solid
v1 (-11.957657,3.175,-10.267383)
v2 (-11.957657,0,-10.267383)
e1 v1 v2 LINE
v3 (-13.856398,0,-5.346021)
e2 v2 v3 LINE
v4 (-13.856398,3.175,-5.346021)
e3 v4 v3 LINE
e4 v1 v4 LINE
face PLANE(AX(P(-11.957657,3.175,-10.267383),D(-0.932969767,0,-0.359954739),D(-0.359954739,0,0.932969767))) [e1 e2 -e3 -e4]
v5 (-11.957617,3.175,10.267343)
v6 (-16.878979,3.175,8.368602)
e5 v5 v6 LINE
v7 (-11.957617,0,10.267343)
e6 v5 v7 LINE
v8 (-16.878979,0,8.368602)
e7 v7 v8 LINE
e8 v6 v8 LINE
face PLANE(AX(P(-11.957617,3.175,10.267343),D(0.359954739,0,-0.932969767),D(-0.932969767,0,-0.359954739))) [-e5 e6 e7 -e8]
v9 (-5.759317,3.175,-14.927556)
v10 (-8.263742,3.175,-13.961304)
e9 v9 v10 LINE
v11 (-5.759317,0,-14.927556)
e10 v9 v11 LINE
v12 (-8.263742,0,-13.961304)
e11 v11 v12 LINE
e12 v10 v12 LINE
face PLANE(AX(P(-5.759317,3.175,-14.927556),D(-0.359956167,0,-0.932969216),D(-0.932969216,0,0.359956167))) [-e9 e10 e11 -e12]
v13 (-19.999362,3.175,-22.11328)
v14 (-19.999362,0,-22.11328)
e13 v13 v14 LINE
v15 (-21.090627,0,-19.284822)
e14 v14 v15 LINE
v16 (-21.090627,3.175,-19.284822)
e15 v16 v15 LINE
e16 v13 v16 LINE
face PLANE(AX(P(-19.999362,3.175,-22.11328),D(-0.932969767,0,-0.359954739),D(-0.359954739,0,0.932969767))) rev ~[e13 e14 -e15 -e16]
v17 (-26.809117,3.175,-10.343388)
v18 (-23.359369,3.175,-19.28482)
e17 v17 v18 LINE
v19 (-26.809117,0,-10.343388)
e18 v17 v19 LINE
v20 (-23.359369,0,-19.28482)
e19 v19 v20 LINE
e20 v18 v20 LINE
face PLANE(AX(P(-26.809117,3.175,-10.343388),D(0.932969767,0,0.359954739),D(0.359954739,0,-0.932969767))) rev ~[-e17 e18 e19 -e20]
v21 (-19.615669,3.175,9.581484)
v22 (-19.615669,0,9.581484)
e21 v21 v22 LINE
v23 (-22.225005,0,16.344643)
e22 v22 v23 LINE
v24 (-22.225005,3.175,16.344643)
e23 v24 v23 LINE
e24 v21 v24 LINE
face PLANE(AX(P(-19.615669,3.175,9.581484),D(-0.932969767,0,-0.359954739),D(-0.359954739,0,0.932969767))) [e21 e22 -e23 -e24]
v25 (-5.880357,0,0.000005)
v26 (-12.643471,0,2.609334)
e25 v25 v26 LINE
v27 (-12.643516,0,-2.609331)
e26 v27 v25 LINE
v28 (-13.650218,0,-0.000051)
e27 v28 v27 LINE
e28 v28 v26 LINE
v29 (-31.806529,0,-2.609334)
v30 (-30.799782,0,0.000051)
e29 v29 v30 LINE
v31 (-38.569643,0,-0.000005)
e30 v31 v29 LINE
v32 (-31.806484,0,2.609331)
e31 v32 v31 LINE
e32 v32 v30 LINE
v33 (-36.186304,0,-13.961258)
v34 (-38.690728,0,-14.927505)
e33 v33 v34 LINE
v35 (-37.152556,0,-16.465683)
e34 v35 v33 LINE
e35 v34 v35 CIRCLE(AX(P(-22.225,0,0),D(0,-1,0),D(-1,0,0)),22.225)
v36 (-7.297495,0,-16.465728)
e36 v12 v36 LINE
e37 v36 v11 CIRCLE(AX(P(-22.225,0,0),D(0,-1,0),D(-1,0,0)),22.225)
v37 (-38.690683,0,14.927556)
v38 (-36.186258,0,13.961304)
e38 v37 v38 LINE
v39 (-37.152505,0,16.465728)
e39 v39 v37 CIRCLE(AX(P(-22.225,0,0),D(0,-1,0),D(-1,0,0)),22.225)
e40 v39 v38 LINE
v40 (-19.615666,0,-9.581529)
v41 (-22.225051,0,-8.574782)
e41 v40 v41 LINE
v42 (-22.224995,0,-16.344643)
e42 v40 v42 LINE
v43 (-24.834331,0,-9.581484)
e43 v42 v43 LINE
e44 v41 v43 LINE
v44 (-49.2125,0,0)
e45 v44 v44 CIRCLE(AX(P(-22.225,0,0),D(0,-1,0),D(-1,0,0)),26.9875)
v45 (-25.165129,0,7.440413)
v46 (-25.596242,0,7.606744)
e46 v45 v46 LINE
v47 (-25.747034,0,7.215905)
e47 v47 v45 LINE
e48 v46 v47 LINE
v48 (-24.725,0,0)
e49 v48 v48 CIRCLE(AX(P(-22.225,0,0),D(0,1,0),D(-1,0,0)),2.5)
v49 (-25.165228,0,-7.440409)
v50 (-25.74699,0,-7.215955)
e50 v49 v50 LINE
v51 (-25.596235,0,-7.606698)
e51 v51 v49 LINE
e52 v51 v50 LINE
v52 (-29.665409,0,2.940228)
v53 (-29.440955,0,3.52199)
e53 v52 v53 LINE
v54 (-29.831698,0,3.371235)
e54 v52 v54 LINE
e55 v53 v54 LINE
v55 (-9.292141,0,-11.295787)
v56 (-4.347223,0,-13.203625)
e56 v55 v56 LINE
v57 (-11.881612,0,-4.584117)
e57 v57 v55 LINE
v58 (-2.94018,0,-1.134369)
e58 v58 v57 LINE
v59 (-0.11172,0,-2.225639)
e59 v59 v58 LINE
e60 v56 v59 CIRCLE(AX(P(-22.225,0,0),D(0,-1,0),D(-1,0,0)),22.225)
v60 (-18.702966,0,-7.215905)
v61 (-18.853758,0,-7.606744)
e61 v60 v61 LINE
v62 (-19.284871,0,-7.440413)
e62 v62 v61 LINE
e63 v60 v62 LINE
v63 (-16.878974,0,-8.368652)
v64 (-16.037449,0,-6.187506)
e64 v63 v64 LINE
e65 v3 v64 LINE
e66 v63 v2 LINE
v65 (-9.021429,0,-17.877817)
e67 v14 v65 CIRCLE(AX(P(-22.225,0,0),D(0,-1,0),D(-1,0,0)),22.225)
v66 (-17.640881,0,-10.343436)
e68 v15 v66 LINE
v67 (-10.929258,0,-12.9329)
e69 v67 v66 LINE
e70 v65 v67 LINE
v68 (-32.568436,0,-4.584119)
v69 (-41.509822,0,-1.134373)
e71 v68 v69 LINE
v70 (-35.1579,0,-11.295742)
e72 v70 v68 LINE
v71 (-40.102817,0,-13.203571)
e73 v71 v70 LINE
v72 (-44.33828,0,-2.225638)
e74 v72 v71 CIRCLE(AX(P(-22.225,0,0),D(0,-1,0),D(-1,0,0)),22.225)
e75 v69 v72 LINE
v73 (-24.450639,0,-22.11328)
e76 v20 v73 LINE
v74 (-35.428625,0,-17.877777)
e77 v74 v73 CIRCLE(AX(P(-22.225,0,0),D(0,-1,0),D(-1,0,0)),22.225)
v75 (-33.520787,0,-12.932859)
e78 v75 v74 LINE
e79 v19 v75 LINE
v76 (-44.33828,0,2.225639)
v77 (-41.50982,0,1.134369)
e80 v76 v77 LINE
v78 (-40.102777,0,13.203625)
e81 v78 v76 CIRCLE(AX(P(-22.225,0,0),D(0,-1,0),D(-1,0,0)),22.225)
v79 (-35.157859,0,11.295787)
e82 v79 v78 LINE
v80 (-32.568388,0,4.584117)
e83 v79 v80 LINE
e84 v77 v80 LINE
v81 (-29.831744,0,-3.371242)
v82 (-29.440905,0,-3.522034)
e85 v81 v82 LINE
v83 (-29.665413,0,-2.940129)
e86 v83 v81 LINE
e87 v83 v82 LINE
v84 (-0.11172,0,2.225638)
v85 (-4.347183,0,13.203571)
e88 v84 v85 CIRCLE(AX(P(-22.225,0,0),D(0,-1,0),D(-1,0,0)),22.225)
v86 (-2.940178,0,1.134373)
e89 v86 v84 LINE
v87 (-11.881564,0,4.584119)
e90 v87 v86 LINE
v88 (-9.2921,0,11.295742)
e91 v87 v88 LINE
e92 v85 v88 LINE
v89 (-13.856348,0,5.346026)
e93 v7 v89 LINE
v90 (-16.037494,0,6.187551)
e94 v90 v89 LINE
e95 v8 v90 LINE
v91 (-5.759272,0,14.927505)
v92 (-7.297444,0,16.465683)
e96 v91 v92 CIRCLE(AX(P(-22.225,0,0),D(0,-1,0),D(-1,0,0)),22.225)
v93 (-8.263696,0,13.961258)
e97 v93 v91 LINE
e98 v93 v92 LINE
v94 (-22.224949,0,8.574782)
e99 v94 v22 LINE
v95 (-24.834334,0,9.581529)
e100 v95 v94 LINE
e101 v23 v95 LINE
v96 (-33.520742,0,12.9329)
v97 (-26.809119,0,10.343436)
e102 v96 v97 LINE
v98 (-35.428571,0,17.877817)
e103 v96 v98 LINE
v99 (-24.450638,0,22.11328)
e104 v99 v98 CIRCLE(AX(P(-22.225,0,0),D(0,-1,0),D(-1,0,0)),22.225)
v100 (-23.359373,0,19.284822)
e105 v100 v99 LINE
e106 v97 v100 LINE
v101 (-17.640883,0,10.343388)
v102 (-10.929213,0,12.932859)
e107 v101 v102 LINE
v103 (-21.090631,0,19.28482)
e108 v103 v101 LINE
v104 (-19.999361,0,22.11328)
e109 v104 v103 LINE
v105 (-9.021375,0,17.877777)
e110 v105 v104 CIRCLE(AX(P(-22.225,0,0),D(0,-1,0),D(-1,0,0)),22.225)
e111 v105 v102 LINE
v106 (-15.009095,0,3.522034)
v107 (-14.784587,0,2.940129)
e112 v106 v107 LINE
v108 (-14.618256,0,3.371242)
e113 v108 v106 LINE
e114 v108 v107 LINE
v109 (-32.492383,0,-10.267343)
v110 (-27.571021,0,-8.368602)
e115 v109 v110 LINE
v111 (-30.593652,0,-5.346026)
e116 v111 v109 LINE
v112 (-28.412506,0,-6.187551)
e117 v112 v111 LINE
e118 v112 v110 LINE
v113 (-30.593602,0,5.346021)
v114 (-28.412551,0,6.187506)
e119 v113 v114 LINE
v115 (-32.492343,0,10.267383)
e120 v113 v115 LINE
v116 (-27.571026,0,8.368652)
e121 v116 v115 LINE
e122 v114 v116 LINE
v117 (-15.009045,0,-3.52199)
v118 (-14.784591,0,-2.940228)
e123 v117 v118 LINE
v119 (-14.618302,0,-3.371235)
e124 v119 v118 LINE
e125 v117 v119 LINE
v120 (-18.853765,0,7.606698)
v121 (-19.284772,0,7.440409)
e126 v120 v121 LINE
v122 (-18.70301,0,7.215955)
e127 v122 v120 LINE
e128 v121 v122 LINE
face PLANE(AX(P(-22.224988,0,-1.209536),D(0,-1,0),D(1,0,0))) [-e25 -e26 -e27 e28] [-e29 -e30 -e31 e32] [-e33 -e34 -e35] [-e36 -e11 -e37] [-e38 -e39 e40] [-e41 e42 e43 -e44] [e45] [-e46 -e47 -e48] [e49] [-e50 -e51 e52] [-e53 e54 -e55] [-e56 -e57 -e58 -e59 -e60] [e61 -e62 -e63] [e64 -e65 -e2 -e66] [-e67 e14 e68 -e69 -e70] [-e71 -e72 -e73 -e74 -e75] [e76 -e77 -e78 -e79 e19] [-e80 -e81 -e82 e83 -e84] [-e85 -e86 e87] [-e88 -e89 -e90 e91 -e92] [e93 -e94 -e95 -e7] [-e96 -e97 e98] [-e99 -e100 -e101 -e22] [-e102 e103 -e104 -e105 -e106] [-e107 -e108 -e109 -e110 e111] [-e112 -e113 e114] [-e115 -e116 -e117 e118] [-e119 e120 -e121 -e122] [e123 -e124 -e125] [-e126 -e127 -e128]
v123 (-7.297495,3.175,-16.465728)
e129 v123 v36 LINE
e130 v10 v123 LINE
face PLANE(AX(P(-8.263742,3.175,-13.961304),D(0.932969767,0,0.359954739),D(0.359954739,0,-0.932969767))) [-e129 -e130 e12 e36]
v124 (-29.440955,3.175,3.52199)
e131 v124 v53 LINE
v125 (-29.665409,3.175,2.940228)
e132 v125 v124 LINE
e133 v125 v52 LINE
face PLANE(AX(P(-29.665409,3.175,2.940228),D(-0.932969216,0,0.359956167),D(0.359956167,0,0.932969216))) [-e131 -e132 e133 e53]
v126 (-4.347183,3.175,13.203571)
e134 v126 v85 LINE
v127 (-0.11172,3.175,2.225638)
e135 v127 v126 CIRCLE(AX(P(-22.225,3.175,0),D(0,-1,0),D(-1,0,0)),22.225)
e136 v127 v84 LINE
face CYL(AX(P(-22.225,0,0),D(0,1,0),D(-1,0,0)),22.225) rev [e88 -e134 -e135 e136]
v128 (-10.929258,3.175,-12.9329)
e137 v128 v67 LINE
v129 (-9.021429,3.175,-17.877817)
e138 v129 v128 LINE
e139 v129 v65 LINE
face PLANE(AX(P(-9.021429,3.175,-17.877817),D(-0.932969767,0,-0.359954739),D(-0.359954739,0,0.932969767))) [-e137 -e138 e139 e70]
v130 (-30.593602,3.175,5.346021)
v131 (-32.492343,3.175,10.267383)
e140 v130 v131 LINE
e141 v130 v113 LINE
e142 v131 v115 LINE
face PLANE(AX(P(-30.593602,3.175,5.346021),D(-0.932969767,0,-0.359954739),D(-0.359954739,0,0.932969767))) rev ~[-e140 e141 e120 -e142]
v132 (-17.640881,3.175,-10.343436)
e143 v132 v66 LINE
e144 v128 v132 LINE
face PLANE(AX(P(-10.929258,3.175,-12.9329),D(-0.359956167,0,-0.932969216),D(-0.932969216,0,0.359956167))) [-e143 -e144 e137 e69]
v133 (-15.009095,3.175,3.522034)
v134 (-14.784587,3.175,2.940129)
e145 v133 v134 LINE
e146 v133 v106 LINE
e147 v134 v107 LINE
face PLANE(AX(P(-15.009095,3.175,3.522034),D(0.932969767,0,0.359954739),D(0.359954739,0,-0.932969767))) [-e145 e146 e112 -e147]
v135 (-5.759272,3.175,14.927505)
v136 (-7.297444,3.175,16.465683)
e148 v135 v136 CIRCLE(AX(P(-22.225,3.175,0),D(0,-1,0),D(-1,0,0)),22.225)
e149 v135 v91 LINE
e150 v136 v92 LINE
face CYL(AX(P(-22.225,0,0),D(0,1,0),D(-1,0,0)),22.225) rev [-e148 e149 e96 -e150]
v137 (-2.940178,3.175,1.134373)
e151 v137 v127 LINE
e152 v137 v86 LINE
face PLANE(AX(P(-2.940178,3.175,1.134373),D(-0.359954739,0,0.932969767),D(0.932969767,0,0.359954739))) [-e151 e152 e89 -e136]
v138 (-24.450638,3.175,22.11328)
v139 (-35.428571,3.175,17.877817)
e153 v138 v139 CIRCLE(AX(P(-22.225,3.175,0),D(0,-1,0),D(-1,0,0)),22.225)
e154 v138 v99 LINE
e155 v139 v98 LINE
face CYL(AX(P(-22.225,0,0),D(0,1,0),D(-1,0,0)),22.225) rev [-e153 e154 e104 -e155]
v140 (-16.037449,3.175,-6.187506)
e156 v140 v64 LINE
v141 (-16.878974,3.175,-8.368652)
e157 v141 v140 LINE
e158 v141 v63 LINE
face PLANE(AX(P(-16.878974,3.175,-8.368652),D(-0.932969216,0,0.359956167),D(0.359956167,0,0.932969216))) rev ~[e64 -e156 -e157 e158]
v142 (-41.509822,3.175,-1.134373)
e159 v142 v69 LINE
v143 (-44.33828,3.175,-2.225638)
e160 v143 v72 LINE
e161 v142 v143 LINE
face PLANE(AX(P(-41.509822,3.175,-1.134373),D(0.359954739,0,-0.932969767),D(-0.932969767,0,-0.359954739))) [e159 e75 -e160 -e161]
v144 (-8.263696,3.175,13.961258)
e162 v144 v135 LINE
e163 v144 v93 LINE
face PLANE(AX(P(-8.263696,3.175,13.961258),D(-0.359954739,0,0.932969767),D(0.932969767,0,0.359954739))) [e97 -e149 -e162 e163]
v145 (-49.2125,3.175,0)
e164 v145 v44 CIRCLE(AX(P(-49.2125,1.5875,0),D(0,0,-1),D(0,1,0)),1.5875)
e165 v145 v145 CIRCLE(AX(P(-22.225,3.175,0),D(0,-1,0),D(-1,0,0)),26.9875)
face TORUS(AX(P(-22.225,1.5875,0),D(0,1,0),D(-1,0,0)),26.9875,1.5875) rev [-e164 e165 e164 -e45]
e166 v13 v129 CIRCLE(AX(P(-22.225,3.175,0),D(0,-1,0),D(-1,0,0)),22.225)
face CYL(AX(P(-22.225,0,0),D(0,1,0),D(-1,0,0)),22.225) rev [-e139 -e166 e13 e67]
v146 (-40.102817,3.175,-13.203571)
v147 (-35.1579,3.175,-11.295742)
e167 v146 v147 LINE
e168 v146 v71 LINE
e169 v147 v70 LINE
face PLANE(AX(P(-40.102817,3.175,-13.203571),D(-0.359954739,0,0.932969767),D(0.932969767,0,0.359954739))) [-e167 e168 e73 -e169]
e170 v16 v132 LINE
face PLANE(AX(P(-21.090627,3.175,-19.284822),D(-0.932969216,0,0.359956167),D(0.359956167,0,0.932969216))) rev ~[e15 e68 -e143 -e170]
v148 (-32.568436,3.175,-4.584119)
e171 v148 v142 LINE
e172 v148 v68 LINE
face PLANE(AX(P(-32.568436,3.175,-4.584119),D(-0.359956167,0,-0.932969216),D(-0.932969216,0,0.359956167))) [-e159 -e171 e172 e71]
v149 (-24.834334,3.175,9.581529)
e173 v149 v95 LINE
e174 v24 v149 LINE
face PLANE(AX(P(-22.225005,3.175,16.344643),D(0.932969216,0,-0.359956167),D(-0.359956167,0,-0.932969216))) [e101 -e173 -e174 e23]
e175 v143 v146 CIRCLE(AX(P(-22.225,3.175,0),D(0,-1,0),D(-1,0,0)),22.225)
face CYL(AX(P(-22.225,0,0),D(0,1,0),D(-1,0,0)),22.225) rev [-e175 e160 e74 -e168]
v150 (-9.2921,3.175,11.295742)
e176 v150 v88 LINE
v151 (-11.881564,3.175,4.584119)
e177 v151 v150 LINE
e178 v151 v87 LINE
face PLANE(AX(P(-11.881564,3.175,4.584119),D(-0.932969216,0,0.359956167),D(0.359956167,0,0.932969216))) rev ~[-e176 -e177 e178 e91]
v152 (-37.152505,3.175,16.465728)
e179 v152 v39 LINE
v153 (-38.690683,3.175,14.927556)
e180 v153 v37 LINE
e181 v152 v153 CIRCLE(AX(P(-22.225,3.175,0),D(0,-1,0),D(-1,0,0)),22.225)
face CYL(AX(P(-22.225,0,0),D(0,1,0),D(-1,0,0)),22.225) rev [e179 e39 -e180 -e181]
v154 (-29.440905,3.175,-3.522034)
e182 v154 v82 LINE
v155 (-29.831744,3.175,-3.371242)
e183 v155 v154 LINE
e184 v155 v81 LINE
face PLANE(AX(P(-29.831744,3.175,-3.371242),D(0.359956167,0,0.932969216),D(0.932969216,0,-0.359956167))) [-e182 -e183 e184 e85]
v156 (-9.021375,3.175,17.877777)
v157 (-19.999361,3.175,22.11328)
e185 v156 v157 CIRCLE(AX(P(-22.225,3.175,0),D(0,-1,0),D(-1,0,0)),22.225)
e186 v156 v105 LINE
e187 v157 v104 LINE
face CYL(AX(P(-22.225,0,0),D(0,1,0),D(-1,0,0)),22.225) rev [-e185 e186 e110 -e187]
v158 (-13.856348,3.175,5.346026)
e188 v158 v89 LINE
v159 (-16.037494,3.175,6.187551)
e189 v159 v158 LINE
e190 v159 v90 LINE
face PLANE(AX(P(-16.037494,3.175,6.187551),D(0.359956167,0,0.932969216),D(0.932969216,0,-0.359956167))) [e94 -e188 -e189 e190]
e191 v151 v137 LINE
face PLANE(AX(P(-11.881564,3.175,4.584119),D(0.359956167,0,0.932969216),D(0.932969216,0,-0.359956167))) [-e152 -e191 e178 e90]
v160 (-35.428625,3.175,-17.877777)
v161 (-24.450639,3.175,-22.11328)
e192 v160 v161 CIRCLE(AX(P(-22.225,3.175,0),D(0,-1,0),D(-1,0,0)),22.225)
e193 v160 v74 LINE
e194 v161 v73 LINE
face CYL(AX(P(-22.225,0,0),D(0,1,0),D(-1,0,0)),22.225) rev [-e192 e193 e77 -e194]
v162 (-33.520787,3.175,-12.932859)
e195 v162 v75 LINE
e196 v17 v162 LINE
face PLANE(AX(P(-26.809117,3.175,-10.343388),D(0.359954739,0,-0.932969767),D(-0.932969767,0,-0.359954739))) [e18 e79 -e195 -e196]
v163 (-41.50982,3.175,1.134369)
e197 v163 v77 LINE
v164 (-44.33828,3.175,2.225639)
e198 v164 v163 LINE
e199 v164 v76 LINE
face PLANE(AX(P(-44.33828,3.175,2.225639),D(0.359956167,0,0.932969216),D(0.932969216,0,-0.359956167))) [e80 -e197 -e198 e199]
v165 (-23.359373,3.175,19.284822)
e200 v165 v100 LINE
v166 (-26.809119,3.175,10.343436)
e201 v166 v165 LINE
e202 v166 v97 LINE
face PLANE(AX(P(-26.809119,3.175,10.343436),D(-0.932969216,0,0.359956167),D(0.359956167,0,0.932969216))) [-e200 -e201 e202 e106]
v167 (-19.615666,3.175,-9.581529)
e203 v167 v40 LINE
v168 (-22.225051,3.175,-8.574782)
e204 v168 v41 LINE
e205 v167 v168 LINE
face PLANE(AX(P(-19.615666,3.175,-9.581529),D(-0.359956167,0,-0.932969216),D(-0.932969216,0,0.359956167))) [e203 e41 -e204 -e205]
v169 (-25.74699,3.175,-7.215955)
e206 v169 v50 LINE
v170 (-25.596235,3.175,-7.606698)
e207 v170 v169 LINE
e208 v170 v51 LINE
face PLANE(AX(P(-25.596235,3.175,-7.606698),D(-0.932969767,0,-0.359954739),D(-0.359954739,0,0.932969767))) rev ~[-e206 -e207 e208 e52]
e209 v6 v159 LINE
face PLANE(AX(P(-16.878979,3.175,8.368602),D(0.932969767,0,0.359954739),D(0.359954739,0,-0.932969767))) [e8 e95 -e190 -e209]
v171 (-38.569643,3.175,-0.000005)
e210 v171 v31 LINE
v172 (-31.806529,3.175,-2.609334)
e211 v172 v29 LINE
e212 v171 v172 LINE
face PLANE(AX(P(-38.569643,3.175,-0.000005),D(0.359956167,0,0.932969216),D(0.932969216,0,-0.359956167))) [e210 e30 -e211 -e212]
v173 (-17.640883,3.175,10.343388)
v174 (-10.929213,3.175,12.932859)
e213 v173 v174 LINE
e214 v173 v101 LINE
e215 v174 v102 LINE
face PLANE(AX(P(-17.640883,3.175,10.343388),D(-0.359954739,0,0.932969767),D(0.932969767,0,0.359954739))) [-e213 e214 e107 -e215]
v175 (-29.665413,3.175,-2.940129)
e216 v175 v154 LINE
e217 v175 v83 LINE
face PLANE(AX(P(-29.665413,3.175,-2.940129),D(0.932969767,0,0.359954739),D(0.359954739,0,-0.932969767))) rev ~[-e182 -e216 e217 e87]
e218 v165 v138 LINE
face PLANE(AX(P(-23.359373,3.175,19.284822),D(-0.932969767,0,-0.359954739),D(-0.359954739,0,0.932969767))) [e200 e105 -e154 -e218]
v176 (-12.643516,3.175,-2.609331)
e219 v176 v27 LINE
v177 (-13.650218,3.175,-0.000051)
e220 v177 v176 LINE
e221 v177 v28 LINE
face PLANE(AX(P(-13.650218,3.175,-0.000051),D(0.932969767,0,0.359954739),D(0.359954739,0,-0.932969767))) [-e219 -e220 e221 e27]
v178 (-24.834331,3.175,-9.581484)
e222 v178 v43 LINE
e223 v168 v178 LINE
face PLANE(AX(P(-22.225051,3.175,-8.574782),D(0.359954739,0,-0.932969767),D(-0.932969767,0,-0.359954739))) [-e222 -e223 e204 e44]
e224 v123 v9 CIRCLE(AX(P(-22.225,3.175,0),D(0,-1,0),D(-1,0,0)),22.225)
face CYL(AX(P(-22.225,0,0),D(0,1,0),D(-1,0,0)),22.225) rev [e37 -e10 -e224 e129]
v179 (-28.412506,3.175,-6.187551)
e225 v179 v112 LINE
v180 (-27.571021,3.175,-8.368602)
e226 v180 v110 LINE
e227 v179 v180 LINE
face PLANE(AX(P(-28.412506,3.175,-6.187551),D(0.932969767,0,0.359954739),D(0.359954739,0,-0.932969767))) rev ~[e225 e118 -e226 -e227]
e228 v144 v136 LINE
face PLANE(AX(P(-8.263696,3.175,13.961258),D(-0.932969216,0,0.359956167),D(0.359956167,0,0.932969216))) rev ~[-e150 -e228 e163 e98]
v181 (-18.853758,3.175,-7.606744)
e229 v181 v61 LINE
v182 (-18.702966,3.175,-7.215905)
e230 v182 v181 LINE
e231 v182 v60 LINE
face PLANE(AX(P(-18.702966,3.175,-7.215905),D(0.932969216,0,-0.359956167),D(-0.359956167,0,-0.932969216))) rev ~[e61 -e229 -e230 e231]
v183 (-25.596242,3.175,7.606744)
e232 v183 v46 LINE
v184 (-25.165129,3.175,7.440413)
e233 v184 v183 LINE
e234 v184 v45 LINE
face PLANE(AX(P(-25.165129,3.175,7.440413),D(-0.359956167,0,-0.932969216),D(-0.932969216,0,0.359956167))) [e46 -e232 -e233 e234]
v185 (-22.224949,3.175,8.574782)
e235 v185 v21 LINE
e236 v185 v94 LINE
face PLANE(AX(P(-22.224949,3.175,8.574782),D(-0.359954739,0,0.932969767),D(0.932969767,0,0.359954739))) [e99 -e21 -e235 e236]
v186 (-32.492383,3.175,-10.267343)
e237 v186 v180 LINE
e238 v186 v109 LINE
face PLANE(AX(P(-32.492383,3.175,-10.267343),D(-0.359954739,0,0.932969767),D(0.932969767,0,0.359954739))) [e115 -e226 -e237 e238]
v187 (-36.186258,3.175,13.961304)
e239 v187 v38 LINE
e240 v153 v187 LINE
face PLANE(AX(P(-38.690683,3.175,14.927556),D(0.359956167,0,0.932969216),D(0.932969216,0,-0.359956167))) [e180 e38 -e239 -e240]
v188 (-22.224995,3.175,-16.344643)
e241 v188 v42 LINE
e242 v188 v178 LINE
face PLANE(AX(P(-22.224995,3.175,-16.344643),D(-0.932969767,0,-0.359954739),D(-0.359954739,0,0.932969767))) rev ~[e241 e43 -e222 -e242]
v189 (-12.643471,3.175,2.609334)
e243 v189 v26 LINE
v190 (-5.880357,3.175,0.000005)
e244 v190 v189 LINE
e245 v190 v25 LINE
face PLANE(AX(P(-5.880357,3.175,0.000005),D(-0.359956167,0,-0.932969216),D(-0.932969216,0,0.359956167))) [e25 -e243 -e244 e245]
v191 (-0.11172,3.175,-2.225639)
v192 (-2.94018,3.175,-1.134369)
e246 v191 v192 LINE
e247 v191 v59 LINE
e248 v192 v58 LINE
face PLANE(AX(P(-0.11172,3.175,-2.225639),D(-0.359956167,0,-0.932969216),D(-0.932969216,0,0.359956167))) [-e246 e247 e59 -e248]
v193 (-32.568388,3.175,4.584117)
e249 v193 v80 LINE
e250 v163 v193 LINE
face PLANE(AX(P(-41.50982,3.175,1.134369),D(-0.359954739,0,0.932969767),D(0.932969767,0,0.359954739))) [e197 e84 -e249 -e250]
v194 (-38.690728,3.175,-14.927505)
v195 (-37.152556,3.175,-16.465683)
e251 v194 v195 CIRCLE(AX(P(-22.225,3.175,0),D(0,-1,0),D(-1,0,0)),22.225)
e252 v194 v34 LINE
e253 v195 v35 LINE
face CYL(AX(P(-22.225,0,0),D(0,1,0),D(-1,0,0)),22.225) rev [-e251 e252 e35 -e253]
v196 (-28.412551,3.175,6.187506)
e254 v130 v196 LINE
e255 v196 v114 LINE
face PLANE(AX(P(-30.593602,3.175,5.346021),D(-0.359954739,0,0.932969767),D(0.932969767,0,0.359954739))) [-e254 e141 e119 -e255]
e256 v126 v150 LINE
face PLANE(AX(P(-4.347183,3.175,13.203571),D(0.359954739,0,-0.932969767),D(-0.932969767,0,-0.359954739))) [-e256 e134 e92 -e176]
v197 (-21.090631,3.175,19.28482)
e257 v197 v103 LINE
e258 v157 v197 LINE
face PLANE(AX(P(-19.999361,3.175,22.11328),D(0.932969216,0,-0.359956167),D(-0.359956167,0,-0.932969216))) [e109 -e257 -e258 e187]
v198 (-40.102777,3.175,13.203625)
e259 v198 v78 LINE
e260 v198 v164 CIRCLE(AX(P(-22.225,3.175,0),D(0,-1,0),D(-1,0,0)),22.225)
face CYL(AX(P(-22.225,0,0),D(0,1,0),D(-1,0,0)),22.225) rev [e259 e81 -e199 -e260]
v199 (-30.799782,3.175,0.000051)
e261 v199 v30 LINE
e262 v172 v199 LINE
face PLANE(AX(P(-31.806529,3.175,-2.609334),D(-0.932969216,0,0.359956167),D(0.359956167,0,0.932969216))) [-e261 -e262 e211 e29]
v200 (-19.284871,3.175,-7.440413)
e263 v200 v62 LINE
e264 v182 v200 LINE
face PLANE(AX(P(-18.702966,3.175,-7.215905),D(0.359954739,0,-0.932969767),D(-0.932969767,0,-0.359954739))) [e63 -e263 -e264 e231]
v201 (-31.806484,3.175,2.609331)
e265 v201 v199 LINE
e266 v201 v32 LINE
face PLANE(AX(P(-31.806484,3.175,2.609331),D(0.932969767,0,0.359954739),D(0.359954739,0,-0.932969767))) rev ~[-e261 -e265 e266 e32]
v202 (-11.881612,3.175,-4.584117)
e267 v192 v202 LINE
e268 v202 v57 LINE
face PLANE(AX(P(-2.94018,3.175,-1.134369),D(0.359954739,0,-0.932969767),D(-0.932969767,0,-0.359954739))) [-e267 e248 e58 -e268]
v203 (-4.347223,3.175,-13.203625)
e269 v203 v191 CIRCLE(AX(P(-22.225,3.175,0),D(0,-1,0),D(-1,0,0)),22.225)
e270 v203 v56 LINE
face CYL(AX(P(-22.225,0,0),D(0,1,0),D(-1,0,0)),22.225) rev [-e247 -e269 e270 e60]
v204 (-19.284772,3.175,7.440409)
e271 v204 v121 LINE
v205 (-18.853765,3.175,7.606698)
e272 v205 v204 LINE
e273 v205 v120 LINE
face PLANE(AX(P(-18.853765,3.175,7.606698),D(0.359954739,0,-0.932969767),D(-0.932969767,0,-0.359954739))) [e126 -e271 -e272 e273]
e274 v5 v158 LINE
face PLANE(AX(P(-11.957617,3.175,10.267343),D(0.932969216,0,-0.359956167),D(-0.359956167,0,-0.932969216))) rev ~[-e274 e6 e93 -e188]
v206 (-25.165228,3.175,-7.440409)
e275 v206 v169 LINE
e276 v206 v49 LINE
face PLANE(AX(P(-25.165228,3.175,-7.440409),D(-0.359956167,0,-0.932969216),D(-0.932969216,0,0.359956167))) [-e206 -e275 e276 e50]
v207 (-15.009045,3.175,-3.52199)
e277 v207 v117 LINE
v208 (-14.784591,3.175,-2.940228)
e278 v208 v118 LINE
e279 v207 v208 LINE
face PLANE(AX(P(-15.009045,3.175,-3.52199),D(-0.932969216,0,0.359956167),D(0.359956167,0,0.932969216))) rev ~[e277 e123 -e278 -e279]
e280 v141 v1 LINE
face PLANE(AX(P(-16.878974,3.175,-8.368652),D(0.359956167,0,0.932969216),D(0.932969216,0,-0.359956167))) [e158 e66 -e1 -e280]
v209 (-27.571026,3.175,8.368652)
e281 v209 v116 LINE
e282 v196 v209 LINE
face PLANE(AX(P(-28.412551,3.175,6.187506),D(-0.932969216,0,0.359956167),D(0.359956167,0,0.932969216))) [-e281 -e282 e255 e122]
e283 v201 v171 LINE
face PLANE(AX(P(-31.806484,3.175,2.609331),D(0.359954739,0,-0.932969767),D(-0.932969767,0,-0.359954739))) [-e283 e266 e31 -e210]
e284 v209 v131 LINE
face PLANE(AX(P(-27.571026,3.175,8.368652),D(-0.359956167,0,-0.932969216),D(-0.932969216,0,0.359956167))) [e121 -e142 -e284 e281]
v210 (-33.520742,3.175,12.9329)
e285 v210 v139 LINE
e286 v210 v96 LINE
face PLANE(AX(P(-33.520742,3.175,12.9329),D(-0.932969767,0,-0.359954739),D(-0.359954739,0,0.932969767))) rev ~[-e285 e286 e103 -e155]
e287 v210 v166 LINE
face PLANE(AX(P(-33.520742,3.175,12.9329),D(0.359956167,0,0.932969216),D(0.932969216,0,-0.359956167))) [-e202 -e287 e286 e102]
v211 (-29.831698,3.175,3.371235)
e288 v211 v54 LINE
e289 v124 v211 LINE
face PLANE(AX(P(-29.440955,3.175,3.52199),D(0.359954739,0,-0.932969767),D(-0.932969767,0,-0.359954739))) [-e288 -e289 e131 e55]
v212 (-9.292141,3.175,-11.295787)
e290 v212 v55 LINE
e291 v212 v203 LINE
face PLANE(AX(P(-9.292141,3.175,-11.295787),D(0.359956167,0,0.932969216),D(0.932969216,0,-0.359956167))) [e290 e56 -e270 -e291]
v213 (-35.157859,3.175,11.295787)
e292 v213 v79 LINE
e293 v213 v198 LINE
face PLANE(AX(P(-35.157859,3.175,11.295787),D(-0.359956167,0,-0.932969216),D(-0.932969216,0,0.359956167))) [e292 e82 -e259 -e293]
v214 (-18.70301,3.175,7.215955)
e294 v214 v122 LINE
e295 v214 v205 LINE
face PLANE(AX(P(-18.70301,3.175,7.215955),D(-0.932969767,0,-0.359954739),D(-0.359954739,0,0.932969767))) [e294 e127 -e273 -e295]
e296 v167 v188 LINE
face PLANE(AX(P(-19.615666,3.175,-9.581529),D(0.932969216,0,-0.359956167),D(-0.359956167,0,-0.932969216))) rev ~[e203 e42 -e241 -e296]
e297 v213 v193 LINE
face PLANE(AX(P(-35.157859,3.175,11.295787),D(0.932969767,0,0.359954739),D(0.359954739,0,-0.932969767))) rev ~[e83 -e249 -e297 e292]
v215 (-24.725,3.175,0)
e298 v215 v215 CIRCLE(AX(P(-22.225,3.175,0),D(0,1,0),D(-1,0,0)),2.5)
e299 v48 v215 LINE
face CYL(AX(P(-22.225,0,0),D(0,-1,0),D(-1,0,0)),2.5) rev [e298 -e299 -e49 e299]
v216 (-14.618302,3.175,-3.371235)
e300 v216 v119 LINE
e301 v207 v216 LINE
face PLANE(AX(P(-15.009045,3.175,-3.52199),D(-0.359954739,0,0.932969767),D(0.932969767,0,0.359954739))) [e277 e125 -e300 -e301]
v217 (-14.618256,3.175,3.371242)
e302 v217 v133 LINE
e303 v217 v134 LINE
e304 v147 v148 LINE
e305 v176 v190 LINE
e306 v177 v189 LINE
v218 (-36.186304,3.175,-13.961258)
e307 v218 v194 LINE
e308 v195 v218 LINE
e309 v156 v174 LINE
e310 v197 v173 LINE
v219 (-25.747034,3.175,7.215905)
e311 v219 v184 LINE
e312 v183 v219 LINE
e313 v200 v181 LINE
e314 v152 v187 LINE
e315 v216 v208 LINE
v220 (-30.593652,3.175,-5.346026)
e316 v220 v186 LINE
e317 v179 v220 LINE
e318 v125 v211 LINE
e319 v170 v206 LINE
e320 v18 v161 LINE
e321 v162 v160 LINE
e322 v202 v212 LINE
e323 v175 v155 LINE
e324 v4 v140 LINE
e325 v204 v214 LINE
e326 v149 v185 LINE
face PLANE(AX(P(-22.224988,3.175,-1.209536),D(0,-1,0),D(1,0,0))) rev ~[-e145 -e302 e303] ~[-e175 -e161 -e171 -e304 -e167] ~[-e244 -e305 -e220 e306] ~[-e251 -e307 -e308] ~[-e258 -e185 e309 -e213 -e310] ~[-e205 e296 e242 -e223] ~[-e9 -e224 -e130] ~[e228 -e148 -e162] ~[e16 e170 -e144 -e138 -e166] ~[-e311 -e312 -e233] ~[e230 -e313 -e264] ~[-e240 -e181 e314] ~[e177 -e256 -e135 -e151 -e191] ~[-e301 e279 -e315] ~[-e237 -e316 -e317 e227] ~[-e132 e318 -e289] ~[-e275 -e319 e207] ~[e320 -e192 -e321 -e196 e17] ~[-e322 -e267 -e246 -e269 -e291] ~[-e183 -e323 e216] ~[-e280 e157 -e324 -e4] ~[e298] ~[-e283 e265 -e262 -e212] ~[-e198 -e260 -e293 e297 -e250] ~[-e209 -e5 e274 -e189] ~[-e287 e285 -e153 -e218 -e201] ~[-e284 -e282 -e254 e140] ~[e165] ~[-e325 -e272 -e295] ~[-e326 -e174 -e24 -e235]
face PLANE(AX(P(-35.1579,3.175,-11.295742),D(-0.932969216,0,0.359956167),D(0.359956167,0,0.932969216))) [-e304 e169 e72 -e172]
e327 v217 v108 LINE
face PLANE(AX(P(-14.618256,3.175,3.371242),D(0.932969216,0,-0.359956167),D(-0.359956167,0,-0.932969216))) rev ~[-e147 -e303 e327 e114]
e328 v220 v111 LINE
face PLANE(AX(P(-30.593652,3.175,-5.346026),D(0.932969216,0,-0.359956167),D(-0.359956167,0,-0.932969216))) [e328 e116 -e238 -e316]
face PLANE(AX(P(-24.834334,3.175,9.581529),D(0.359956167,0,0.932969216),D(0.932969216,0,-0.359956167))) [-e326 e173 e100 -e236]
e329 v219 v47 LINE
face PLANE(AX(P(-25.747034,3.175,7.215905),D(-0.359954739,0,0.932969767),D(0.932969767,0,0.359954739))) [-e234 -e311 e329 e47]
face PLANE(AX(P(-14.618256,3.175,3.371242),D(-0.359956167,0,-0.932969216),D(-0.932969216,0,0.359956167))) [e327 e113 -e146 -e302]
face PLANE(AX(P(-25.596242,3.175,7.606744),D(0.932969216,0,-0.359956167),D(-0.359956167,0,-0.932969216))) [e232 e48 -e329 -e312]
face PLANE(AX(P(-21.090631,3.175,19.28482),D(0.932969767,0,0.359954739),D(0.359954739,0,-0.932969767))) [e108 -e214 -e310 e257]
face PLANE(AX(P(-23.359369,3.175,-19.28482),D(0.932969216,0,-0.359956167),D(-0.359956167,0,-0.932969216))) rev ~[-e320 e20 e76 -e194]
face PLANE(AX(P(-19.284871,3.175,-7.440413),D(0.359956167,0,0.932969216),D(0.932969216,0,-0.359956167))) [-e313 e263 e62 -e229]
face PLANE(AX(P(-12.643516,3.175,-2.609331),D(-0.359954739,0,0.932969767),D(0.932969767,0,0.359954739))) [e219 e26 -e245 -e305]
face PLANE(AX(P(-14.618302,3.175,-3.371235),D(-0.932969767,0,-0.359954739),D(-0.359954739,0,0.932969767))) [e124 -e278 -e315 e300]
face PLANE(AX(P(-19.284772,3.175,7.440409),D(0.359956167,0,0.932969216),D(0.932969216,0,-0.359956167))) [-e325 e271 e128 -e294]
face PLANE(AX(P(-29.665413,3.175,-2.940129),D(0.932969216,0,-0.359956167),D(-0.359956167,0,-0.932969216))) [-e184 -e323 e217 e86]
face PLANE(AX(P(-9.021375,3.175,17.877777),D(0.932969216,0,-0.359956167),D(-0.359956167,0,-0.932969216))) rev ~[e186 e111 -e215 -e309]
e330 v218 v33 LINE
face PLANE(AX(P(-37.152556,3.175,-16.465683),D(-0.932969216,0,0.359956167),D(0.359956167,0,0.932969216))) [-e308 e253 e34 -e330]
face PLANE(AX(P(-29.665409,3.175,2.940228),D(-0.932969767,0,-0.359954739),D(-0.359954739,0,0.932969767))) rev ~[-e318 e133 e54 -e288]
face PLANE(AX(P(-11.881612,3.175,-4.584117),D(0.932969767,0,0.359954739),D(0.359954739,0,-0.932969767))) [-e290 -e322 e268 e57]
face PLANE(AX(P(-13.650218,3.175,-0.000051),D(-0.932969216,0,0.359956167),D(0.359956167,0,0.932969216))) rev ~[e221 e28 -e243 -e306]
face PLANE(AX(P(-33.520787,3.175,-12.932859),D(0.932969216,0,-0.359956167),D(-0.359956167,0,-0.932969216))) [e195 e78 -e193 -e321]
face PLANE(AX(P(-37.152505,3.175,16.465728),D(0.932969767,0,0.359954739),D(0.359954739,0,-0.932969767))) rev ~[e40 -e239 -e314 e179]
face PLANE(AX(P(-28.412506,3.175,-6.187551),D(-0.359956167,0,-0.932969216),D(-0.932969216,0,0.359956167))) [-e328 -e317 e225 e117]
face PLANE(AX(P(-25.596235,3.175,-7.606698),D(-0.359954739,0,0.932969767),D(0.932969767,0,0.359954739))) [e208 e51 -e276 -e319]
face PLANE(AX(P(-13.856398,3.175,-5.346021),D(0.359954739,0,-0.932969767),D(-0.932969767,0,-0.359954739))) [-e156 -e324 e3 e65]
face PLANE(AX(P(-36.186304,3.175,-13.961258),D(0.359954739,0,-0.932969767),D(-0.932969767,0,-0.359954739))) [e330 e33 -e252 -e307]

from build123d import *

# Parameters (mm, degrees)
SKETCH2_R           = 8
SKETCH2_R_2         = 2.5
BOSS_EXTRUDE1_DEPTH = 3.175
BOSS_EXTRUDE2_START = -3.175
BOSS_EXTRUDE2_DEPTH = 3.175


with BuildPart() as part:
    # Sketch1 → Revolve2 (revolve)
    with BuildSketch(Plane.XY, mode=Mode.PRIVATE) as revolve2_sk:
        with BuildLine():
            Line((0, 0), (0, 3.175))
            Line((0, 3.175), (3.175, 3.175))
            Line((3.175, 3.175), (4.7625, 3.175))
            ThreePointArc((4.7625, 3.175), (3.175, 1.5875), (4.7625, 0))
            Line((4.7625, 0), (3.175, 0))
            Line((3.175, 0), (0, 0))
        make_face()
    revolve(revolve2_sk.sketch.rotate(Axis((-22.225, 12.769143385, 0), (0, -1, 0)), 180), axis=Axis((-22.225, 12.769143385, 0), (0, -1, 0)))



with BuildPart() as body_2:
    # Sketch2 → Boss-Extrude1 (new body)
    with BuildSketch(Plane(origin=(0, 0, 0), x_dir=(1, 0, 0), z_dir=(0, 1, 0))):
        with Locations(Location((-22.225, 0, 0), (0, 0, 180))):
            Circle(SKETCH2_R)
        with Locations(Location((-22.225, 0, 0), (0, 0, 180))):
            Circle(SKETCH2_R_2, mode=Mode.SUBTRACT)
    extrude(amount=BOSS_EXTRUDE1_DEPTH)


with BuildPart() as part_1:
    add(part.part)

    add(body_2.part)  # Boss-Extrude2 merges body 2
    # Sketch4 → Boss-Extrude2 (add)
    with BuildSketch(Plane.XZ.offset(BOSS_EXTRUDE2_START)):
        with BuildLine():
            Line((-22.224995499, -16.344642731), (-35.42857082, 17.877817054))
            ThreePointArc((-35.42857082, 17.877817054), (-36.308247437, 17.19339311), (-37.152505221, 16.465728434))
            Line((-37.152505221, 16.465728434), (-23.359368534, -19.284820497))
            Line((-23.359368534, -19.284820497), (-24.450638712, -22.113280112))
            ThreePointArc((-24.450638712, -22.113280112), (-22.225000553, -22.225), (-19.999362388, -22.113280223))
            Line((-19.999362388, -22.113280223), (-21.090626965, -19.284822234))
            Line((-21.090626965, -19.284822234), (-7.297444367, 16.465682732))
            ThreePointArc((-7.297444367, 16.465682732), (-8.141700351, 17.193350342), (-9.021375334, 17.877777286))
            Line((-9.021375334, 17.877777286), (-22.224995499, -16.344642731))
        make_face()
        with BuildLine():
            Line((-41.509820497, 1.134368534), (-5.759271566, 14.927505221))
            ThreePointArc((-5.759271566, 14.927505221), (-5.03160689, 14.083247437), (-4.347182946, 13.20357082))
            Line((-4.347182946, 13.20357082), (-38.569642731, -4.501e-06))
            Line((-38.569642731, -4.501e-06), (-4.347222714, -13.203624666))
            ThreePointArc((-4.347222714, -13.203624666), (-5.031649658, -14.083299649), (-5.759317268, -14.927555633))
            Line((-5.759317268, -14.927555633), (-41.509822234, -1.134373035))
            Line((-41.509822234, -1.134373035), (-44.338280223, -2.225637612))
            ThreePointArc((-44.338280223, -2.225637612), (-44.45, 5.53e-07), (-44.338280112, 2.225638712))
            Line((-44.338280112, 2.225638712), (-41.509820497, 1.134368534))
        make_face()
        with BuildLine():
            Line((-21.090631466, 19.284820497), (-7.297494779, -16.465728434))
            ThreePointArc((-7.297494779, -16.465728434), (-8.141752563, -17.19339311), (-9.02142918, -17.877817054))
            Line((-9.02142918, -17.877817054), (-22.225004501, 16.344642731))
            Line((-22.225004501, 16.344642731), (-35.428624666, -17.877777286))
            ThreePointArc((-35.428624666, -17.877777286), (-36.308299649, -17.193350342), (-37.152555633, -16.465682732))
            Line((-37.152555633, -16.465682732), (-23.359373035, 19.284822234))
            Line((-23.359373035, 19.284822234), (-24.450637612, 22.113280223))
            ThreePointArc((-24.450637612, 22.113280223), (-22.224999447, 22.225), (-19.999361288, 22.113280112))
            Line((-19.999361288, 22.113280112), (-21.090631466, 19.284820497))
        make_face()
        with BuildLine():
            Line((-2.940179503, -1.134368534), (-38.690728434, -14.927505221))
            ThreePointArc((-38.690728434, -14.927505221), (-39.41839311, -14.083247437), (-40.102817054, -13.20357082))
            Line((-40.102817054, -13.20357082), (-5.880357269, 4.501e-06))
            Line((-5.880357269, 4.501e-06), (-40.102777286, 13.203624666))
            ThreePointArc((-40.102777286, 13.203624666), (-39.418350342, 14.083299649), (-38.690682732, 14.927555633))
            Line((-38.690682732, 14.927555633), (-2.940177766, 1.134373035))
            Line((-2.940177766, 1.134373035), (-0.111719777, 2.225637612))
            ThreePointArc((-0.111719777, 2.225637612), (0, -5.53e-07), (-0.111719888, -2.225638712))
            Line((-0.111719888, -2.225638712), (-2.940179503, -1.134368534))
        make_face()
    extrude(amount=BOSS_EXTRUDE2_DEPTH)


solid = part_1.part
